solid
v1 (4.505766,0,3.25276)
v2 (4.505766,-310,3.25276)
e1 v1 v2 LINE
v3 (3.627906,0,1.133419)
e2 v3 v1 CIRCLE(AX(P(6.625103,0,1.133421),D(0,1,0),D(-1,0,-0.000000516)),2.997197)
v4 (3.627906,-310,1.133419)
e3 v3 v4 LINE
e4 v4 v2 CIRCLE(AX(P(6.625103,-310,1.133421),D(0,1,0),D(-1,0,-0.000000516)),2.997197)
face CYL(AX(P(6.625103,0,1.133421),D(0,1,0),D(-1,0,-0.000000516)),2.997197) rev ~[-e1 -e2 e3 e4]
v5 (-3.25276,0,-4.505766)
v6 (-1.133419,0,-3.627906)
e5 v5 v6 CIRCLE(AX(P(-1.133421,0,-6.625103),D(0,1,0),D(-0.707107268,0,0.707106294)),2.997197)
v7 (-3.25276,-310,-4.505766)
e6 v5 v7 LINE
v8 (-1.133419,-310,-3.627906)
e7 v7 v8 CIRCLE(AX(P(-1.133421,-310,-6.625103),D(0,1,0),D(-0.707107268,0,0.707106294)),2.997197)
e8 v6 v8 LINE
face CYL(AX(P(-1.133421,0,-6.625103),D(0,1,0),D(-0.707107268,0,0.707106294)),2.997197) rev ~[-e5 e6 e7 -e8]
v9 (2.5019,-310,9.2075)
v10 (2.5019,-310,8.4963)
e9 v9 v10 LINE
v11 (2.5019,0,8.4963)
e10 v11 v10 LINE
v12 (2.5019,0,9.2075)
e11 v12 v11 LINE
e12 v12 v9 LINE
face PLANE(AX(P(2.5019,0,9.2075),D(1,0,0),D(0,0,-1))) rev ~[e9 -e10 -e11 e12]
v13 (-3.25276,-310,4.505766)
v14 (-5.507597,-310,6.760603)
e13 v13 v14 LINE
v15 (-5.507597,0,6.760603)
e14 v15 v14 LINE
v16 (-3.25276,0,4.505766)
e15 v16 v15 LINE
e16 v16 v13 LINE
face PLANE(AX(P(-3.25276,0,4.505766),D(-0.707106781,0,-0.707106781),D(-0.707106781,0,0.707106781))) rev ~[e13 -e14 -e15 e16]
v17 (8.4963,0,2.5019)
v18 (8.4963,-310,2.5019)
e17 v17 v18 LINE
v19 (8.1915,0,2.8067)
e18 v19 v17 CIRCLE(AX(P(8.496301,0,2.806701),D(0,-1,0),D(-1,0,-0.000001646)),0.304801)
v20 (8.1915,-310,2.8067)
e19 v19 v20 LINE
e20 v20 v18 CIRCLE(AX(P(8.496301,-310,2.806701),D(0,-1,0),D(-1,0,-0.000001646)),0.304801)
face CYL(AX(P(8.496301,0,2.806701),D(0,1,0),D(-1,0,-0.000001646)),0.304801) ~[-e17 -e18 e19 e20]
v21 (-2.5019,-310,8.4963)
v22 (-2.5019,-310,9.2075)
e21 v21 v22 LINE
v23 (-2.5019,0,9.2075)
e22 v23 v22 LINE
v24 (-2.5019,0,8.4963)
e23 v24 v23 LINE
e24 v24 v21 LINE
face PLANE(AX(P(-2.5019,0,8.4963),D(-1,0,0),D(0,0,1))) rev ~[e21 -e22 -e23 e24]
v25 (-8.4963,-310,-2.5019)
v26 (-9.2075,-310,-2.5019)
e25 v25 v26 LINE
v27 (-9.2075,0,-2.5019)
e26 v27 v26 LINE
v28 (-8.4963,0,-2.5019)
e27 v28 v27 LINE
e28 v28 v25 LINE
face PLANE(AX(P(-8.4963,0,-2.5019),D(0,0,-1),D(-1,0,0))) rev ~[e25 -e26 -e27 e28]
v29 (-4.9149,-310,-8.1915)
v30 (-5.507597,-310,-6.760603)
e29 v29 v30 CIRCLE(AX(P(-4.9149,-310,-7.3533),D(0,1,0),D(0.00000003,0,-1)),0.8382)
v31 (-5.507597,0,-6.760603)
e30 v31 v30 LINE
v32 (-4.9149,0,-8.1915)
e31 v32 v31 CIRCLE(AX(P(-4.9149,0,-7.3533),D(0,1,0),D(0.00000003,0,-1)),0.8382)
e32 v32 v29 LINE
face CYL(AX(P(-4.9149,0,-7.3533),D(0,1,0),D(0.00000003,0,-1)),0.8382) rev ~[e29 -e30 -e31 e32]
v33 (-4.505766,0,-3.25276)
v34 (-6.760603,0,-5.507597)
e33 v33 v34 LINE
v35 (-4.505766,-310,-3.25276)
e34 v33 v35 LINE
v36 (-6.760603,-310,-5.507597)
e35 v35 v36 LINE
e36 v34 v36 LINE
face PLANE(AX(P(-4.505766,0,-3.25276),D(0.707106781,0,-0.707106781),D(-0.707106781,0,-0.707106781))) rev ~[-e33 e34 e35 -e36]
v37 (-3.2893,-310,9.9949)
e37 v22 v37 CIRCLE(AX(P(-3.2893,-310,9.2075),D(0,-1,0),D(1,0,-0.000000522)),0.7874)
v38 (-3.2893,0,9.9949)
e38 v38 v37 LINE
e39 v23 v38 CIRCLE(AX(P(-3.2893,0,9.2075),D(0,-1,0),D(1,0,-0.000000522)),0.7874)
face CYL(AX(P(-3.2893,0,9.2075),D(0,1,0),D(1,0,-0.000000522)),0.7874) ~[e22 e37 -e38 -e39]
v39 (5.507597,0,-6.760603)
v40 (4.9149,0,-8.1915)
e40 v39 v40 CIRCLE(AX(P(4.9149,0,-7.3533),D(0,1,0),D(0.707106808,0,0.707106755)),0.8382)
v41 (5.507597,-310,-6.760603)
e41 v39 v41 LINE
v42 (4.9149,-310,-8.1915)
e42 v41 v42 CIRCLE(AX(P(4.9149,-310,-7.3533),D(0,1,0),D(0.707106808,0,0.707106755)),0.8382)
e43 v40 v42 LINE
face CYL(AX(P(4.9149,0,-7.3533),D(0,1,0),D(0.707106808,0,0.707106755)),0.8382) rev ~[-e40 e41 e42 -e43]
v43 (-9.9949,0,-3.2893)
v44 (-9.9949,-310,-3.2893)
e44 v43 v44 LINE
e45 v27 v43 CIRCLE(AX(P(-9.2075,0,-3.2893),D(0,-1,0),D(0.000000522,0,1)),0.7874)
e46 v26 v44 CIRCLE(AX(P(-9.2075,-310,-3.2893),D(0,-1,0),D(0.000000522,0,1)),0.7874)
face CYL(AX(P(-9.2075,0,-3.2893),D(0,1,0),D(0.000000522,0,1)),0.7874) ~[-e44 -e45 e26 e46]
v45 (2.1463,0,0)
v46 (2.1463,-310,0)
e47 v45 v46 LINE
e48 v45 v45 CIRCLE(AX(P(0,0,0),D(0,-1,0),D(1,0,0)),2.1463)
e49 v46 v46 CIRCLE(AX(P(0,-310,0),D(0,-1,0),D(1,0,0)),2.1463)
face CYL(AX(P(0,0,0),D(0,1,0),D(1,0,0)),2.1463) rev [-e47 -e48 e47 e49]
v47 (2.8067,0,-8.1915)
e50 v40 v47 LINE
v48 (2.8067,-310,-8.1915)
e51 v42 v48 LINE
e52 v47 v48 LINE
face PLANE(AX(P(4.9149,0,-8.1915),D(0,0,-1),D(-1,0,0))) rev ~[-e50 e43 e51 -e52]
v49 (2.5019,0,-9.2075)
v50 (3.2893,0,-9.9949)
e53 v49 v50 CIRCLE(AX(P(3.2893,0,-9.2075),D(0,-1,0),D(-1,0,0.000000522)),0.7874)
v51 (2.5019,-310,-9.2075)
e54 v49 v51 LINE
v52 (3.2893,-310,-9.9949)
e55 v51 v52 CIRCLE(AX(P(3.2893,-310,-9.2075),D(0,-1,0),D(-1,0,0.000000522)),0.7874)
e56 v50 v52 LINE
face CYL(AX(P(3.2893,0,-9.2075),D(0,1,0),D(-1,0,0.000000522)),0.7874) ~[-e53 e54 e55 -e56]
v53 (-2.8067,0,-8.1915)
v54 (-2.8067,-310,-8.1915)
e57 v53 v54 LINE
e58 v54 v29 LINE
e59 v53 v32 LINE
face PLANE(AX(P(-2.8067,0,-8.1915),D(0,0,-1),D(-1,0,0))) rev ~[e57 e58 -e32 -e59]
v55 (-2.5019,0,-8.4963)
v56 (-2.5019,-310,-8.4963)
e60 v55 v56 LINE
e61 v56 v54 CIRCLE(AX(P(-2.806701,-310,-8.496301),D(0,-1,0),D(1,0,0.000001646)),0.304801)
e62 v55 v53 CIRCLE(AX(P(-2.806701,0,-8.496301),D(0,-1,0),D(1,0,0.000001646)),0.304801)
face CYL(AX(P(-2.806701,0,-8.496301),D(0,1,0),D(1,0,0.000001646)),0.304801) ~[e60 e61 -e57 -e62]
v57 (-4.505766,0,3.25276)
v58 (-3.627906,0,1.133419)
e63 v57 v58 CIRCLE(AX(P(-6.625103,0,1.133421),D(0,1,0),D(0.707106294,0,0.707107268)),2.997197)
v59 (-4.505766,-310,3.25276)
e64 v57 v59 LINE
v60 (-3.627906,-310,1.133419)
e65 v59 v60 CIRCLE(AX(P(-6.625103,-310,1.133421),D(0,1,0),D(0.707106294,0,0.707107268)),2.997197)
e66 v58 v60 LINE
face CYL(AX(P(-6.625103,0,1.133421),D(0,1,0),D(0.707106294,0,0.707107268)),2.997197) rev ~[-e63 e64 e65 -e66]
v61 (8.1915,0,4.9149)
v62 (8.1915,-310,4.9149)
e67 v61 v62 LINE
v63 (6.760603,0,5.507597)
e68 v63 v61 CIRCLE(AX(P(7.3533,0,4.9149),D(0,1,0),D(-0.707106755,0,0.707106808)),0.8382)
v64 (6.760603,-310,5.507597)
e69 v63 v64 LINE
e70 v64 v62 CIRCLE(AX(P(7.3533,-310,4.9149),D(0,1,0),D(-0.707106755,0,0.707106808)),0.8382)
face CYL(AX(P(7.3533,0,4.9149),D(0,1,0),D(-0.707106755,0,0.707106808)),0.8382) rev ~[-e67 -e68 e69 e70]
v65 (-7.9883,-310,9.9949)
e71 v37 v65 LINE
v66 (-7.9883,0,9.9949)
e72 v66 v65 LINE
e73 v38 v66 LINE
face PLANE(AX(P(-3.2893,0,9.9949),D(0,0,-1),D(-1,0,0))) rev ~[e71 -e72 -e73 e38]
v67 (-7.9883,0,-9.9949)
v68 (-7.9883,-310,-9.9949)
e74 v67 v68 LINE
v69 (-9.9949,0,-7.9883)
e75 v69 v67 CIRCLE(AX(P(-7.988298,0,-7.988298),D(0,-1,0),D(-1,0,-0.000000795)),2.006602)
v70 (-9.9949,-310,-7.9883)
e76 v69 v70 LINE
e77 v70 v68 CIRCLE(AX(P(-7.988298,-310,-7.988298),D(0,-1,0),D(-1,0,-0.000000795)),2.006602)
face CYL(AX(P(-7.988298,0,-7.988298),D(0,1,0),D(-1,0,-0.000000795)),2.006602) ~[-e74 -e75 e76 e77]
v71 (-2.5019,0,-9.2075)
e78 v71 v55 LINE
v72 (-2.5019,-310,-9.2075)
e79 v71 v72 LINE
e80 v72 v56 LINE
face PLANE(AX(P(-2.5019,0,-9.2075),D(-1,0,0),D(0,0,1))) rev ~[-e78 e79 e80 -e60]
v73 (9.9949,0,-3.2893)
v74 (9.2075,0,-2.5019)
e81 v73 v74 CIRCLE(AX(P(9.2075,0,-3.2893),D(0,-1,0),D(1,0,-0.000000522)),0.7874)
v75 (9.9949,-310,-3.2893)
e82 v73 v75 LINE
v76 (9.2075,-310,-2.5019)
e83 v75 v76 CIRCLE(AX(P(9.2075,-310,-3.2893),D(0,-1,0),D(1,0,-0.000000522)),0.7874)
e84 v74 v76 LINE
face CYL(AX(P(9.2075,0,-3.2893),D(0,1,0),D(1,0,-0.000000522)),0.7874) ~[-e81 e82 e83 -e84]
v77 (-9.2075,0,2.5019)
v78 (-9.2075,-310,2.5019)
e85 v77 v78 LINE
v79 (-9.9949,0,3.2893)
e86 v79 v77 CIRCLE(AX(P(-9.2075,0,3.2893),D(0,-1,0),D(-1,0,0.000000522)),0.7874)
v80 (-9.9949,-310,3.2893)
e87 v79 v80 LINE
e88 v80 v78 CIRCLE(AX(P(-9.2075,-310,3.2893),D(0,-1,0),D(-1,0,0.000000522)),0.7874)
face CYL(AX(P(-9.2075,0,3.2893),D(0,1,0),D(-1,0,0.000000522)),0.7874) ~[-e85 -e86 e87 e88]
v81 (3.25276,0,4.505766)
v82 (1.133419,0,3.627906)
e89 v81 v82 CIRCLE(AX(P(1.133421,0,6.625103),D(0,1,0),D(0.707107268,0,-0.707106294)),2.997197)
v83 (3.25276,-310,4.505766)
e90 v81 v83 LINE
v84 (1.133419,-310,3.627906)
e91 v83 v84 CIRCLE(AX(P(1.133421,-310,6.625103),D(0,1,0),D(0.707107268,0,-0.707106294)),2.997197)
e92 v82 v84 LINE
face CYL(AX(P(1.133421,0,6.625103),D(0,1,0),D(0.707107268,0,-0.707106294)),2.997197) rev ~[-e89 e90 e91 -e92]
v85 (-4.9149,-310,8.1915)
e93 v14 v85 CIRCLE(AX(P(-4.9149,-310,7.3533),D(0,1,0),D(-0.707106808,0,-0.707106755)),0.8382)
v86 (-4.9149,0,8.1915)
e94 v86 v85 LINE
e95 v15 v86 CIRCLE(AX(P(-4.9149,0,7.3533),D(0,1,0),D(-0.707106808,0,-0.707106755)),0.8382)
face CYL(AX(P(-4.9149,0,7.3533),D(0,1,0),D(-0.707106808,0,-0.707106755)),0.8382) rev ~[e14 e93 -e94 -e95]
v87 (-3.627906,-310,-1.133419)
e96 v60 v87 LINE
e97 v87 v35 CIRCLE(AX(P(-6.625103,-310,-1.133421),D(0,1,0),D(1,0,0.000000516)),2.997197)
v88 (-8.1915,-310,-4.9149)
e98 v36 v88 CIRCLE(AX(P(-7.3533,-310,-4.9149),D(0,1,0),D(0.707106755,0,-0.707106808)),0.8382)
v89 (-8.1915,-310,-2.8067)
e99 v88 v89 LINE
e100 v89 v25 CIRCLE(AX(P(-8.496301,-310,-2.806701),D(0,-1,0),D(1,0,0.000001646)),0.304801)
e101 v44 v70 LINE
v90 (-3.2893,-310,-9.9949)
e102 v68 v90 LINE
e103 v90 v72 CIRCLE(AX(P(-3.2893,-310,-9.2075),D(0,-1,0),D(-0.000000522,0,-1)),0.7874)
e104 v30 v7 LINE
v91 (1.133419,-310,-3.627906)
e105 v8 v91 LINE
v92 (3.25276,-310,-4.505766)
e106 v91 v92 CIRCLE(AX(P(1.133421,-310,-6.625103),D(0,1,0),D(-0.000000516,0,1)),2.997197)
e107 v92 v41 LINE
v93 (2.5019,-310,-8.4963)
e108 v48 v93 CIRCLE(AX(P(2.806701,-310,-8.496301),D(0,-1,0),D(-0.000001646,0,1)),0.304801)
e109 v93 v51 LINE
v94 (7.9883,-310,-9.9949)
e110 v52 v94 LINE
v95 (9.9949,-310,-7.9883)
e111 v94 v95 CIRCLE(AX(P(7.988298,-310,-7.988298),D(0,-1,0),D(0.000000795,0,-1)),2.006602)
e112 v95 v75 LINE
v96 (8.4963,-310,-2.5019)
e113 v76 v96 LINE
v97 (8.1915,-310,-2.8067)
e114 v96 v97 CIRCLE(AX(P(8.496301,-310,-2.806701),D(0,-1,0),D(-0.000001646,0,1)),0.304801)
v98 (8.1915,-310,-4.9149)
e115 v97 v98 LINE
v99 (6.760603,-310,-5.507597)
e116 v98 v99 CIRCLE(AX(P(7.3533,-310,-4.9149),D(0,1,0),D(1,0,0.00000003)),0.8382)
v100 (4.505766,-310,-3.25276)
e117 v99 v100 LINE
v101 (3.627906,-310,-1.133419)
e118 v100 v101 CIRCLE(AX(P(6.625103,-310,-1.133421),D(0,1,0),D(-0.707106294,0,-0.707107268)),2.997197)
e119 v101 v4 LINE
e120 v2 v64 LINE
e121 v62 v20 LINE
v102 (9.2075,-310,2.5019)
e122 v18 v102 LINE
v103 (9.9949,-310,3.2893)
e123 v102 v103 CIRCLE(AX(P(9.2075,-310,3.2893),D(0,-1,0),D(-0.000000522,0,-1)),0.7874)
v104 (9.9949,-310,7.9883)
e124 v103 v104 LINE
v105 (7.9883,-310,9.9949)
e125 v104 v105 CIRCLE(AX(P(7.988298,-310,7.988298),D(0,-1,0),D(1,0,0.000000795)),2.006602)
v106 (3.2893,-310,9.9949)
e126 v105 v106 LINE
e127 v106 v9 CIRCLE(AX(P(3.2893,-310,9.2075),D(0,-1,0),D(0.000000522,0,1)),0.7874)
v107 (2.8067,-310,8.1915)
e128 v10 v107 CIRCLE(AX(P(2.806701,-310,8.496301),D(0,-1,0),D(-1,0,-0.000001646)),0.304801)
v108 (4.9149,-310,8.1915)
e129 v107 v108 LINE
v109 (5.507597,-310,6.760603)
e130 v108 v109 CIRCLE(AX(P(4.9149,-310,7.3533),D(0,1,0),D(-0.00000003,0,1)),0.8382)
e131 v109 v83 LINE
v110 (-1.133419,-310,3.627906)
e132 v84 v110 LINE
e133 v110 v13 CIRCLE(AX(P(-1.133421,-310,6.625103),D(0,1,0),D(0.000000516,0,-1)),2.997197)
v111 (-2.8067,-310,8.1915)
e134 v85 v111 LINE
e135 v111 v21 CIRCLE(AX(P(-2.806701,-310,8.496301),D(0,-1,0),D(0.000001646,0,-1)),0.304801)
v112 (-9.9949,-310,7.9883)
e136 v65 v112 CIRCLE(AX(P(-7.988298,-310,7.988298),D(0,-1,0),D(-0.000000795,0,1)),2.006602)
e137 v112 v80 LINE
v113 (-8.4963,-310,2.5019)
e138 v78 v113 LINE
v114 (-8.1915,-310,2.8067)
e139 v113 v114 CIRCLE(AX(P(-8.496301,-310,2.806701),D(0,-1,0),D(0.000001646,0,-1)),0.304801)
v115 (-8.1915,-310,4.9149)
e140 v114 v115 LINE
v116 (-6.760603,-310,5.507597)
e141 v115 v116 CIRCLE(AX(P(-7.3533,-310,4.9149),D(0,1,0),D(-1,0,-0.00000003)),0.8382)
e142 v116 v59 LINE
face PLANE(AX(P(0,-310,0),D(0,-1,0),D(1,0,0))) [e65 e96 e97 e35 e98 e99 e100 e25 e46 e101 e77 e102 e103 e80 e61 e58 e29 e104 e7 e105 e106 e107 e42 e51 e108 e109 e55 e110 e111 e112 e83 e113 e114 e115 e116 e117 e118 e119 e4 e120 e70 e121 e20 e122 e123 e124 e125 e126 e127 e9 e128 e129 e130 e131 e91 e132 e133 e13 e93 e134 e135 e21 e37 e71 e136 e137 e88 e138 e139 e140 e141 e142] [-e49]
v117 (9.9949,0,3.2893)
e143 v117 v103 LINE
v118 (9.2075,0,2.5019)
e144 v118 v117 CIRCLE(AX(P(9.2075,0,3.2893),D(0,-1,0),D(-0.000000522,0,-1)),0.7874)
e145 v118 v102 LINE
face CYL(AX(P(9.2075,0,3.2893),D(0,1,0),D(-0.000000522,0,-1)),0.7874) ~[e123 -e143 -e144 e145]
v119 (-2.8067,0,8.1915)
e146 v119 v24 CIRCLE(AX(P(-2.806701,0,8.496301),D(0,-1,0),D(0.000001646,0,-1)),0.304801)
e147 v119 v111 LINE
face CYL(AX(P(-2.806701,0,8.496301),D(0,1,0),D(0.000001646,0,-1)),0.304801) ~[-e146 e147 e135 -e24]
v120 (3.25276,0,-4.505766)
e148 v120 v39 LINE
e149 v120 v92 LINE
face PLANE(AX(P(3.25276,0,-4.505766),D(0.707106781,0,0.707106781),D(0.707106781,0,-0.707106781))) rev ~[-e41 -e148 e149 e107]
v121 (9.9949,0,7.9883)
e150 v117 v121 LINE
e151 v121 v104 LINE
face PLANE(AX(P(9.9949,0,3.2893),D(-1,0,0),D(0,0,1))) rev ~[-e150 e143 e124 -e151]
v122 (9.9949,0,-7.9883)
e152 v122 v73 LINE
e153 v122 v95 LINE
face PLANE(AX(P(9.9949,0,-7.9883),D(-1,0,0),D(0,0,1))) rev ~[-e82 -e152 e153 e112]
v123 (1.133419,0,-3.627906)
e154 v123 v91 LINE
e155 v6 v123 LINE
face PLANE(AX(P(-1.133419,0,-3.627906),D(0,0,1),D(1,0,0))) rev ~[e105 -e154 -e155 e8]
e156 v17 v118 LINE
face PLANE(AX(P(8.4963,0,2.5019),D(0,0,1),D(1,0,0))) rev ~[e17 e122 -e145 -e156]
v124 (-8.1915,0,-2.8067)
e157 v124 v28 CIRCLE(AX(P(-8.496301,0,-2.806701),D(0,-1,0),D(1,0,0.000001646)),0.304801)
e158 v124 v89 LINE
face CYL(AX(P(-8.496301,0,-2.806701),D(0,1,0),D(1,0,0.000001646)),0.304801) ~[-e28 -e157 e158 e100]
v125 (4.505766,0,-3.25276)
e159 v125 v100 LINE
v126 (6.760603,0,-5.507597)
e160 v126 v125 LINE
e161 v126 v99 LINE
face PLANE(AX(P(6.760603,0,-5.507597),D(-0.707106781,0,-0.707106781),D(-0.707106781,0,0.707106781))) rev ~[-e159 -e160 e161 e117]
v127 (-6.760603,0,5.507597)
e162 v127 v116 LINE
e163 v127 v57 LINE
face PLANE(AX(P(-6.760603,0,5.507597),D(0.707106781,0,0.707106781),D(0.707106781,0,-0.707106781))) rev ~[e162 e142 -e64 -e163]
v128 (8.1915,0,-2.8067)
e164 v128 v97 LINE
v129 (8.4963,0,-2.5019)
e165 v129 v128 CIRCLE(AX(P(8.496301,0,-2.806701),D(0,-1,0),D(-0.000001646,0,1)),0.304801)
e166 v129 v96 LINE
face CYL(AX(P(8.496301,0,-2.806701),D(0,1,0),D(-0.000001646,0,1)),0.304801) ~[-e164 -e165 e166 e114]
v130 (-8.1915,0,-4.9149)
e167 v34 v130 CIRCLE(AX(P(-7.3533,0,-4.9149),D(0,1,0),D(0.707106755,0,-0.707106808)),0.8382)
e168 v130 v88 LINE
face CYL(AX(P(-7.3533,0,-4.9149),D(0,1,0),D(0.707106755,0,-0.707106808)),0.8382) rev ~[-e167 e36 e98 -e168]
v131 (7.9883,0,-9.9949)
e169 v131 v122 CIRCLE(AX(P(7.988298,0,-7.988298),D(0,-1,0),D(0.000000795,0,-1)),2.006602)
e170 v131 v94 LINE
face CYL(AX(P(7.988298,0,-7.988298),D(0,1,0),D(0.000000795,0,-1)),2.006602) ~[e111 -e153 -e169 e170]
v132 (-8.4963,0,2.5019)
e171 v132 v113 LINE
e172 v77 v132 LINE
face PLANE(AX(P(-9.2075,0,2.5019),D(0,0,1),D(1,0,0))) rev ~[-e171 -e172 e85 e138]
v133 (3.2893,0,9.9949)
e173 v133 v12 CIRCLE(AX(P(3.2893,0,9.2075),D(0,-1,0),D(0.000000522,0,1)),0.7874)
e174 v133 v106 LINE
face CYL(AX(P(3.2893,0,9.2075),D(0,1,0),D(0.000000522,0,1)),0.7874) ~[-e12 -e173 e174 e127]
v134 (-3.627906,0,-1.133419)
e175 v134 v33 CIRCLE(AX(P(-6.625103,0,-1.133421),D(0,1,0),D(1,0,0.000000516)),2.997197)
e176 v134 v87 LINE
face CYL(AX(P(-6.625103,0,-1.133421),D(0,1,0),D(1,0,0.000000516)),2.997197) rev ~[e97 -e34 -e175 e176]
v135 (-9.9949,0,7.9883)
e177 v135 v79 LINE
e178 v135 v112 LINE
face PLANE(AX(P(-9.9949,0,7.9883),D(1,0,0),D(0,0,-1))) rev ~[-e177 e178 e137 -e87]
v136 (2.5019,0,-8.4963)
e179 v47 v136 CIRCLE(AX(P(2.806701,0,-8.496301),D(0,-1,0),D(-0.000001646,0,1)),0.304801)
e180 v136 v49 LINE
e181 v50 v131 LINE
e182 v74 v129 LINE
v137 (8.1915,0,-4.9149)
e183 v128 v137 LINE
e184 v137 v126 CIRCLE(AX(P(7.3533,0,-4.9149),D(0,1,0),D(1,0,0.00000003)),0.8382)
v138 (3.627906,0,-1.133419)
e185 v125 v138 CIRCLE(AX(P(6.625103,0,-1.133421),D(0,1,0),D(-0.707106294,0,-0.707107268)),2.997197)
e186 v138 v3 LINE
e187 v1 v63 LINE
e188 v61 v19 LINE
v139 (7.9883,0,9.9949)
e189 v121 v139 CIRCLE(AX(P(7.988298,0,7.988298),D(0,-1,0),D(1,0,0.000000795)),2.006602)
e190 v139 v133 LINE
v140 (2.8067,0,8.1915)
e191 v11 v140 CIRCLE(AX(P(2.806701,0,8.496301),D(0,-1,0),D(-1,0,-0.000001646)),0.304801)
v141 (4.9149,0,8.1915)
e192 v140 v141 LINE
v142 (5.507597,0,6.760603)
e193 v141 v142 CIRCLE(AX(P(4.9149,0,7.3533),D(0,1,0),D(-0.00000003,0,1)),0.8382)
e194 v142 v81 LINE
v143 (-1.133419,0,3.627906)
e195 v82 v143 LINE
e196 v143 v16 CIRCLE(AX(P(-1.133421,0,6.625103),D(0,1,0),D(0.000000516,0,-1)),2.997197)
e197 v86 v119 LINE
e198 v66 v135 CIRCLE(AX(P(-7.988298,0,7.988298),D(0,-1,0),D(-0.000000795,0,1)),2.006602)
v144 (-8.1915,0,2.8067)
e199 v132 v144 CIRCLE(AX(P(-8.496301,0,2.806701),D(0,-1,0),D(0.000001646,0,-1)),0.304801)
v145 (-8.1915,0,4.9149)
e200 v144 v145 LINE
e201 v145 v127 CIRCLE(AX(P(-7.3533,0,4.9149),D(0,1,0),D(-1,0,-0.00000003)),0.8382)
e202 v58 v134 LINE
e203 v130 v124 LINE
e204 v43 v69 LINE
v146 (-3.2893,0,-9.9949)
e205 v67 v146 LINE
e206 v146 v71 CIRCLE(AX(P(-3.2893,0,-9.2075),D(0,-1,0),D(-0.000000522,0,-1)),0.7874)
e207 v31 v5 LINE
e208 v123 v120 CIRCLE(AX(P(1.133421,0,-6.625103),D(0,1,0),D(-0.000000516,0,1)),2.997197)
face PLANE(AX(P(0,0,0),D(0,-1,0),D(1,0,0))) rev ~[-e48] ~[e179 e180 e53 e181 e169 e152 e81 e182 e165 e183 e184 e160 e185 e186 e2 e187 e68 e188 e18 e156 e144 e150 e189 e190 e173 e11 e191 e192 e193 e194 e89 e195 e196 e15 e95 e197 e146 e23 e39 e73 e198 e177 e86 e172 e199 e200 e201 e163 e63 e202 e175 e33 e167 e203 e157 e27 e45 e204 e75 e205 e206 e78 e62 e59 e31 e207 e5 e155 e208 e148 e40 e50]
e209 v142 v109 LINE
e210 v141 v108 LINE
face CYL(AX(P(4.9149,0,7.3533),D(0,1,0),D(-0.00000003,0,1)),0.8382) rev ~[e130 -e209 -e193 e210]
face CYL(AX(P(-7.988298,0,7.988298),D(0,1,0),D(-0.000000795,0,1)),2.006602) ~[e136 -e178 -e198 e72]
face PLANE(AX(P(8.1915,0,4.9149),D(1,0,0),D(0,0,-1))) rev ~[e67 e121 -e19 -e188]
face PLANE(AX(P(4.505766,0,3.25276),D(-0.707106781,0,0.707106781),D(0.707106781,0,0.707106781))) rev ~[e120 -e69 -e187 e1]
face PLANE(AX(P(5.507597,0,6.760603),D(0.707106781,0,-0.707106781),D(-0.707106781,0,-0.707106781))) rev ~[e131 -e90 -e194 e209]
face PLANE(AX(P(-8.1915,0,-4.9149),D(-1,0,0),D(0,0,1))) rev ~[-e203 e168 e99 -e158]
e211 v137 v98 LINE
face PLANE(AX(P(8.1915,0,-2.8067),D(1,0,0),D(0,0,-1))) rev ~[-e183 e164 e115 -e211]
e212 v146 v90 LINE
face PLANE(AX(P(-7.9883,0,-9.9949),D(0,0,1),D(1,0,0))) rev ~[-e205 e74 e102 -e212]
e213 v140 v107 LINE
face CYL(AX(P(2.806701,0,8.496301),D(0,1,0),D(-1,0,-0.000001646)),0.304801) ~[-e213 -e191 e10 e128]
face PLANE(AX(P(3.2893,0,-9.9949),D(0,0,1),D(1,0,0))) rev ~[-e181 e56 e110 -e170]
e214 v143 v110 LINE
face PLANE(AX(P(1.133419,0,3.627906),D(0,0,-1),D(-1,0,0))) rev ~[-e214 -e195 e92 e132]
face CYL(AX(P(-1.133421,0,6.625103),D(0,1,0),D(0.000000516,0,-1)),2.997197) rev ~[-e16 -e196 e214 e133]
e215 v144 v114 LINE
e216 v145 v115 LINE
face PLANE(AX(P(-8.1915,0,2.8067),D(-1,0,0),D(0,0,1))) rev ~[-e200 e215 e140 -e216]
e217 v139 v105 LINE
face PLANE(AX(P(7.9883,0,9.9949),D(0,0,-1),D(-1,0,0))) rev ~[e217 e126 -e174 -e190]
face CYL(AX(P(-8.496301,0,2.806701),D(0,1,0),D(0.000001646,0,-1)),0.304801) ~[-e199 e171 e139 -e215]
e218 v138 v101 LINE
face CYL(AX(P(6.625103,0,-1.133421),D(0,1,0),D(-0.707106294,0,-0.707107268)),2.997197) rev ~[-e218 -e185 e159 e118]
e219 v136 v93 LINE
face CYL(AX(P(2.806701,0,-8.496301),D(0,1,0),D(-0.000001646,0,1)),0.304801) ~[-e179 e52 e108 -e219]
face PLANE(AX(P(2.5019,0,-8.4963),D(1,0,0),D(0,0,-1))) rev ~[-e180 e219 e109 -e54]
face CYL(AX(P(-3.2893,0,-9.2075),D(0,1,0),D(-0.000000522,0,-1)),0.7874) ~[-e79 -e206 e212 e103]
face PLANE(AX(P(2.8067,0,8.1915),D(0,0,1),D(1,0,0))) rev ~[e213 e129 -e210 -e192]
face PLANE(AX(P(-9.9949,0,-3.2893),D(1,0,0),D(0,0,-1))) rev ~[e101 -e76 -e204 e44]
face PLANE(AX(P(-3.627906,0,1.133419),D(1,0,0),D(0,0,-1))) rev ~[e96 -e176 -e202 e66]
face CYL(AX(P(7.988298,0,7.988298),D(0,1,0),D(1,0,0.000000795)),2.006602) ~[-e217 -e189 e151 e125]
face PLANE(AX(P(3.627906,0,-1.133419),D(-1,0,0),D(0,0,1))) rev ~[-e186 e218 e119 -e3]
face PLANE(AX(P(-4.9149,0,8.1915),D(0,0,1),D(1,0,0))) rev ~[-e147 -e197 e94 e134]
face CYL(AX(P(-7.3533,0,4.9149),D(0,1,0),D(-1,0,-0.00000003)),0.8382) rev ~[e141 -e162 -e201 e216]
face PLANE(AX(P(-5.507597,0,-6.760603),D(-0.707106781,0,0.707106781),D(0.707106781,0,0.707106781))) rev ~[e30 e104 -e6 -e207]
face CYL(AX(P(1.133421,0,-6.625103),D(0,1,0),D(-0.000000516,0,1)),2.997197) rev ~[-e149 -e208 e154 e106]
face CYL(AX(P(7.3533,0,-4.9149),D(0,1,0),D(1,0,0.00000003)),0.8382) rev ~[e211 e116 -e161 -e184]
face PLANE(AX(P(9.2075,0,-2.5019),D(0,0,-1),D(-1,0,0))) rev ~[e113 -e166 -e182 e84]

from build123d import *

# Parameters (mm, degrees)
F0_R     = 2.1463
F1_DEPTH = 310


with BuildPart() as f1:
    # F0 (on Front) → F1 (new body)
    with BuildSketch(Plane.XZ):
        with BuildLine():
            Line((-3.2893, 9.9949), (-7.9883, 9.9949))
            ThreePointArc((-7.9883, 9.9949), (-9.40718, 9.40718), (-9.9949, 7.9883))
            Line((-9.9949, 7.9883), (-9.9949, 3.2893))
            ThreePointArc((-9.9949, 3.2893), (-9.764276, 2.732524), (-9.2075, 2.5019))
            Line((-9.2075, 2.5019), (-8.4963, 2.5019))
            ThreePointArc((-8.4963, 2.5019), (-8.280774, 2.591174), (-8.1915, 2.8067))
            Line((-8.1915, 2.8067), (-8.1915, 4.9149))
            ThreePointArc((-8.1915, 4.9149), (-7.674065, 5.689296), (-6.760603, 5.507597))
            Line((-6.760603, 5.507597), (-4.505766, 3.25276))
            ThreePointArc((-4.505766, 3.25276), (-3.856054, 2.280398), (-3.627906, 1.133419))
            Line((-3.627906, 1.133419), (-3.627906, -1.133419))
            ThreePointArc((-3.627906, -1.133419), (-3.856054, -2.280398), (-4.505766, -3.25276))
            Line((-4.505766, -3.25276), (-6.760603, -5.507597))
            ThreePointArc((-6.760603, -5.507597), (-7.674065, -5.689296), (-8.1915, -4.9149))
            Line((-8.1915, -4.9149), (-8.1915, -2.8067))
            ThreePointArc((-8.1915, -2.8067), (-8.280774, -2.591174), (-8.4963, -2.5019))
            Line((-8.4963, -2.5019), (-9.2075, -2.5019))
            ThreePointArc((-9.2075, -2.5019), (-9.764276, -2.732524), (-9.9949, -3.2893))
            Line((-9.9949, -3.2893), (-9.9949, -7.9883))
            ThreePointArc((-9.9949, -7.9883), (-9.40718, -9.40718), (-7.9883, -9.9949))
            Line((-7.9883, -9.9949), (-3.2893, -9.9949))
            ThreePointArc((-3.2893, -9.9949), (-2.732524, -9.764276), (-2.5019, -9.2075))
            Line((-2.5019, -9.2075), (-2.5019, -8.4963))
            ThreePointArc((-2.5019, -8.4963), (-2.591174, -8.280774), (-2.8067, -8.1915))
            Line((-2.8067, -8.1915), (-4.9149, -8.1915))
            ThreePointArc((-4.9149, -8.1915), (-5.689296, -7.674065), (-5.507597, -6.760603))
            Line((-5.507597, -6.760603), (-3.25276, -4.505766))
            ThreePointArc((-3.25276, -4.505766), (-2.280398, -3.856054), (-1.133419, -3.627906))
            Line((-1.133419, -3.627906), (1.133419, -3.627906))
            ThreePointArc((1.133419, -3.627906), (2.280398, -3.856054), (3.25276, -4.505766))
            Line((3.25276, -4.505766), (5.507597, -6.760603))
            ThreePointArc((5.507597, -6.760603), (5.689296, -7.674065), (4.9149, -8.1915))
            Line((4.9149, -8.1915), (2.8067, -8.1915))
            ThreePointArc((2.8067, -8.1915), (2.591174, -8.280774), (2.5019, -8.4963))
            Line((2.5019, -8.4963), (2.5019, -9.2075))
            ThreePointArc((2.5019, -9.2075), (2.732524, -9.764276), (3.2893, -9.9949))
            Line((3.2893, -9.9949), (7.9883, -9.9949))
            ThreePointArc((7.9883, -9.9949), (9.40718, -9.40718), (9.9949, -7.9883))
            Line((9.9949, -7.9883), (9.9949, -3.2893))
            ThreePointArc((9.9949, -3.2893), (9.764276, -2.732524), (9.2075, -2.5019))
            Line((9.2075, -2.5019), (8.4963, -2.5019))
            ThreePointArc((8.4963, -2.5019), (8.280774, -2.591174), (8.1915, -2.8067))
            Line((8.1915, -2.8067), (8.1915, -4.9149))
            ThreePointArc((8.1915, -4.9149), (7.674065, -5.689296), (6.760603, -5.507597))
            Line((6.760603, -5.507597), (4.505766, -3.25276))
            ThreePointArc((4.505766, -3.25276), (3.856054, -2.280398), (3.627906, -1.133419))
            Line((3.627906, -1.133419), (3.627906, 1.133419))
            ThreePointArc((3.627906, 1.133419), (3.856054, 2.280398), (4.505766, 3.25276))
            Line((4.505766, 3.25276), (6.760603, 5.507597))
            ThreePointArc((6.760603, 5.507597), (7.674065, 5.689296), (8.1915, 4.9149))
            Line((8.1915, 4.9149), (8.1915, 2.8067))
            ThreePointArc((8.1915, 2.8067), (8.280774, 2.591174), (8.4963, 2.5019))
            Line((8.4963, 2.5019), (9.2075, 2.5019))
            ThreePointArc((9.2075, 2.5019), (9.764276, 2.732524), (9.9949, 3.2893))
            Line((9.9949, 3.2893), (9.9949, 7.9883))
            ThreePointArc((9.9949, 7.9883), (9.40718, 9.40718), (7.9883, 9.9949))
            Line((7.9883, 9.9949), (3.2893, 9.9949))
            ThreePointArc((3.2893, 9.9949), (2.732524, 9.764276), (2.5019, 9.2075))
            Line((2.5019, 9.2075), (2.5019, 8.4963))
            ThreePointArc((2.5019, 8.4963), (2.591174, 8.280774), (2.8067, 8.1915))
            Line((2.8067, 8.1915), (4.9149, 8.1915))
            ThreePointArc((4.9149, 8.1915), (5.689296, 7.674065), (5.507597, 6.760603))
            Line((5.507597, 6.760603), (3.25276, 4.505766))
            ThreePointArc((3.25276, 4.505766), (2.280398, 3.856054), (1.133419, 3.627906))
            Line((1.133419, 3.627906), (-1.133419, 3.627906))
            ThreePointArc((-1.133419, 3.627906), (-2.280398, 3.856054), (-3.25276, 4.505766))
            Line((-3.25276, 4.505766), (-5.507597, 6.760603))
            ThreePointArc((-5.507597, 6.760603), (-5.689296, 7.674065), (-4.9149, 8.1915))
            Line((-4.9149, 8.1915), (-2.8067, 8.1915))
            ThreePointArc((-2.8067, 8.1915), (-2.591174, 8.280774), (-2.5019, 8.4963))
            Line((-2.5019, 8.4963), (-2.5019, 9.2075))
            ThreePointArc((-2.5019, 9.2075), (-2.732524, 9.764276), (-3.2893, 9.9949))
        make_face()
        Circle(F0_R, mode=Mode.SUBTRACT)
    extrude(amount=F1_DEPTH)


solid = f1.part
